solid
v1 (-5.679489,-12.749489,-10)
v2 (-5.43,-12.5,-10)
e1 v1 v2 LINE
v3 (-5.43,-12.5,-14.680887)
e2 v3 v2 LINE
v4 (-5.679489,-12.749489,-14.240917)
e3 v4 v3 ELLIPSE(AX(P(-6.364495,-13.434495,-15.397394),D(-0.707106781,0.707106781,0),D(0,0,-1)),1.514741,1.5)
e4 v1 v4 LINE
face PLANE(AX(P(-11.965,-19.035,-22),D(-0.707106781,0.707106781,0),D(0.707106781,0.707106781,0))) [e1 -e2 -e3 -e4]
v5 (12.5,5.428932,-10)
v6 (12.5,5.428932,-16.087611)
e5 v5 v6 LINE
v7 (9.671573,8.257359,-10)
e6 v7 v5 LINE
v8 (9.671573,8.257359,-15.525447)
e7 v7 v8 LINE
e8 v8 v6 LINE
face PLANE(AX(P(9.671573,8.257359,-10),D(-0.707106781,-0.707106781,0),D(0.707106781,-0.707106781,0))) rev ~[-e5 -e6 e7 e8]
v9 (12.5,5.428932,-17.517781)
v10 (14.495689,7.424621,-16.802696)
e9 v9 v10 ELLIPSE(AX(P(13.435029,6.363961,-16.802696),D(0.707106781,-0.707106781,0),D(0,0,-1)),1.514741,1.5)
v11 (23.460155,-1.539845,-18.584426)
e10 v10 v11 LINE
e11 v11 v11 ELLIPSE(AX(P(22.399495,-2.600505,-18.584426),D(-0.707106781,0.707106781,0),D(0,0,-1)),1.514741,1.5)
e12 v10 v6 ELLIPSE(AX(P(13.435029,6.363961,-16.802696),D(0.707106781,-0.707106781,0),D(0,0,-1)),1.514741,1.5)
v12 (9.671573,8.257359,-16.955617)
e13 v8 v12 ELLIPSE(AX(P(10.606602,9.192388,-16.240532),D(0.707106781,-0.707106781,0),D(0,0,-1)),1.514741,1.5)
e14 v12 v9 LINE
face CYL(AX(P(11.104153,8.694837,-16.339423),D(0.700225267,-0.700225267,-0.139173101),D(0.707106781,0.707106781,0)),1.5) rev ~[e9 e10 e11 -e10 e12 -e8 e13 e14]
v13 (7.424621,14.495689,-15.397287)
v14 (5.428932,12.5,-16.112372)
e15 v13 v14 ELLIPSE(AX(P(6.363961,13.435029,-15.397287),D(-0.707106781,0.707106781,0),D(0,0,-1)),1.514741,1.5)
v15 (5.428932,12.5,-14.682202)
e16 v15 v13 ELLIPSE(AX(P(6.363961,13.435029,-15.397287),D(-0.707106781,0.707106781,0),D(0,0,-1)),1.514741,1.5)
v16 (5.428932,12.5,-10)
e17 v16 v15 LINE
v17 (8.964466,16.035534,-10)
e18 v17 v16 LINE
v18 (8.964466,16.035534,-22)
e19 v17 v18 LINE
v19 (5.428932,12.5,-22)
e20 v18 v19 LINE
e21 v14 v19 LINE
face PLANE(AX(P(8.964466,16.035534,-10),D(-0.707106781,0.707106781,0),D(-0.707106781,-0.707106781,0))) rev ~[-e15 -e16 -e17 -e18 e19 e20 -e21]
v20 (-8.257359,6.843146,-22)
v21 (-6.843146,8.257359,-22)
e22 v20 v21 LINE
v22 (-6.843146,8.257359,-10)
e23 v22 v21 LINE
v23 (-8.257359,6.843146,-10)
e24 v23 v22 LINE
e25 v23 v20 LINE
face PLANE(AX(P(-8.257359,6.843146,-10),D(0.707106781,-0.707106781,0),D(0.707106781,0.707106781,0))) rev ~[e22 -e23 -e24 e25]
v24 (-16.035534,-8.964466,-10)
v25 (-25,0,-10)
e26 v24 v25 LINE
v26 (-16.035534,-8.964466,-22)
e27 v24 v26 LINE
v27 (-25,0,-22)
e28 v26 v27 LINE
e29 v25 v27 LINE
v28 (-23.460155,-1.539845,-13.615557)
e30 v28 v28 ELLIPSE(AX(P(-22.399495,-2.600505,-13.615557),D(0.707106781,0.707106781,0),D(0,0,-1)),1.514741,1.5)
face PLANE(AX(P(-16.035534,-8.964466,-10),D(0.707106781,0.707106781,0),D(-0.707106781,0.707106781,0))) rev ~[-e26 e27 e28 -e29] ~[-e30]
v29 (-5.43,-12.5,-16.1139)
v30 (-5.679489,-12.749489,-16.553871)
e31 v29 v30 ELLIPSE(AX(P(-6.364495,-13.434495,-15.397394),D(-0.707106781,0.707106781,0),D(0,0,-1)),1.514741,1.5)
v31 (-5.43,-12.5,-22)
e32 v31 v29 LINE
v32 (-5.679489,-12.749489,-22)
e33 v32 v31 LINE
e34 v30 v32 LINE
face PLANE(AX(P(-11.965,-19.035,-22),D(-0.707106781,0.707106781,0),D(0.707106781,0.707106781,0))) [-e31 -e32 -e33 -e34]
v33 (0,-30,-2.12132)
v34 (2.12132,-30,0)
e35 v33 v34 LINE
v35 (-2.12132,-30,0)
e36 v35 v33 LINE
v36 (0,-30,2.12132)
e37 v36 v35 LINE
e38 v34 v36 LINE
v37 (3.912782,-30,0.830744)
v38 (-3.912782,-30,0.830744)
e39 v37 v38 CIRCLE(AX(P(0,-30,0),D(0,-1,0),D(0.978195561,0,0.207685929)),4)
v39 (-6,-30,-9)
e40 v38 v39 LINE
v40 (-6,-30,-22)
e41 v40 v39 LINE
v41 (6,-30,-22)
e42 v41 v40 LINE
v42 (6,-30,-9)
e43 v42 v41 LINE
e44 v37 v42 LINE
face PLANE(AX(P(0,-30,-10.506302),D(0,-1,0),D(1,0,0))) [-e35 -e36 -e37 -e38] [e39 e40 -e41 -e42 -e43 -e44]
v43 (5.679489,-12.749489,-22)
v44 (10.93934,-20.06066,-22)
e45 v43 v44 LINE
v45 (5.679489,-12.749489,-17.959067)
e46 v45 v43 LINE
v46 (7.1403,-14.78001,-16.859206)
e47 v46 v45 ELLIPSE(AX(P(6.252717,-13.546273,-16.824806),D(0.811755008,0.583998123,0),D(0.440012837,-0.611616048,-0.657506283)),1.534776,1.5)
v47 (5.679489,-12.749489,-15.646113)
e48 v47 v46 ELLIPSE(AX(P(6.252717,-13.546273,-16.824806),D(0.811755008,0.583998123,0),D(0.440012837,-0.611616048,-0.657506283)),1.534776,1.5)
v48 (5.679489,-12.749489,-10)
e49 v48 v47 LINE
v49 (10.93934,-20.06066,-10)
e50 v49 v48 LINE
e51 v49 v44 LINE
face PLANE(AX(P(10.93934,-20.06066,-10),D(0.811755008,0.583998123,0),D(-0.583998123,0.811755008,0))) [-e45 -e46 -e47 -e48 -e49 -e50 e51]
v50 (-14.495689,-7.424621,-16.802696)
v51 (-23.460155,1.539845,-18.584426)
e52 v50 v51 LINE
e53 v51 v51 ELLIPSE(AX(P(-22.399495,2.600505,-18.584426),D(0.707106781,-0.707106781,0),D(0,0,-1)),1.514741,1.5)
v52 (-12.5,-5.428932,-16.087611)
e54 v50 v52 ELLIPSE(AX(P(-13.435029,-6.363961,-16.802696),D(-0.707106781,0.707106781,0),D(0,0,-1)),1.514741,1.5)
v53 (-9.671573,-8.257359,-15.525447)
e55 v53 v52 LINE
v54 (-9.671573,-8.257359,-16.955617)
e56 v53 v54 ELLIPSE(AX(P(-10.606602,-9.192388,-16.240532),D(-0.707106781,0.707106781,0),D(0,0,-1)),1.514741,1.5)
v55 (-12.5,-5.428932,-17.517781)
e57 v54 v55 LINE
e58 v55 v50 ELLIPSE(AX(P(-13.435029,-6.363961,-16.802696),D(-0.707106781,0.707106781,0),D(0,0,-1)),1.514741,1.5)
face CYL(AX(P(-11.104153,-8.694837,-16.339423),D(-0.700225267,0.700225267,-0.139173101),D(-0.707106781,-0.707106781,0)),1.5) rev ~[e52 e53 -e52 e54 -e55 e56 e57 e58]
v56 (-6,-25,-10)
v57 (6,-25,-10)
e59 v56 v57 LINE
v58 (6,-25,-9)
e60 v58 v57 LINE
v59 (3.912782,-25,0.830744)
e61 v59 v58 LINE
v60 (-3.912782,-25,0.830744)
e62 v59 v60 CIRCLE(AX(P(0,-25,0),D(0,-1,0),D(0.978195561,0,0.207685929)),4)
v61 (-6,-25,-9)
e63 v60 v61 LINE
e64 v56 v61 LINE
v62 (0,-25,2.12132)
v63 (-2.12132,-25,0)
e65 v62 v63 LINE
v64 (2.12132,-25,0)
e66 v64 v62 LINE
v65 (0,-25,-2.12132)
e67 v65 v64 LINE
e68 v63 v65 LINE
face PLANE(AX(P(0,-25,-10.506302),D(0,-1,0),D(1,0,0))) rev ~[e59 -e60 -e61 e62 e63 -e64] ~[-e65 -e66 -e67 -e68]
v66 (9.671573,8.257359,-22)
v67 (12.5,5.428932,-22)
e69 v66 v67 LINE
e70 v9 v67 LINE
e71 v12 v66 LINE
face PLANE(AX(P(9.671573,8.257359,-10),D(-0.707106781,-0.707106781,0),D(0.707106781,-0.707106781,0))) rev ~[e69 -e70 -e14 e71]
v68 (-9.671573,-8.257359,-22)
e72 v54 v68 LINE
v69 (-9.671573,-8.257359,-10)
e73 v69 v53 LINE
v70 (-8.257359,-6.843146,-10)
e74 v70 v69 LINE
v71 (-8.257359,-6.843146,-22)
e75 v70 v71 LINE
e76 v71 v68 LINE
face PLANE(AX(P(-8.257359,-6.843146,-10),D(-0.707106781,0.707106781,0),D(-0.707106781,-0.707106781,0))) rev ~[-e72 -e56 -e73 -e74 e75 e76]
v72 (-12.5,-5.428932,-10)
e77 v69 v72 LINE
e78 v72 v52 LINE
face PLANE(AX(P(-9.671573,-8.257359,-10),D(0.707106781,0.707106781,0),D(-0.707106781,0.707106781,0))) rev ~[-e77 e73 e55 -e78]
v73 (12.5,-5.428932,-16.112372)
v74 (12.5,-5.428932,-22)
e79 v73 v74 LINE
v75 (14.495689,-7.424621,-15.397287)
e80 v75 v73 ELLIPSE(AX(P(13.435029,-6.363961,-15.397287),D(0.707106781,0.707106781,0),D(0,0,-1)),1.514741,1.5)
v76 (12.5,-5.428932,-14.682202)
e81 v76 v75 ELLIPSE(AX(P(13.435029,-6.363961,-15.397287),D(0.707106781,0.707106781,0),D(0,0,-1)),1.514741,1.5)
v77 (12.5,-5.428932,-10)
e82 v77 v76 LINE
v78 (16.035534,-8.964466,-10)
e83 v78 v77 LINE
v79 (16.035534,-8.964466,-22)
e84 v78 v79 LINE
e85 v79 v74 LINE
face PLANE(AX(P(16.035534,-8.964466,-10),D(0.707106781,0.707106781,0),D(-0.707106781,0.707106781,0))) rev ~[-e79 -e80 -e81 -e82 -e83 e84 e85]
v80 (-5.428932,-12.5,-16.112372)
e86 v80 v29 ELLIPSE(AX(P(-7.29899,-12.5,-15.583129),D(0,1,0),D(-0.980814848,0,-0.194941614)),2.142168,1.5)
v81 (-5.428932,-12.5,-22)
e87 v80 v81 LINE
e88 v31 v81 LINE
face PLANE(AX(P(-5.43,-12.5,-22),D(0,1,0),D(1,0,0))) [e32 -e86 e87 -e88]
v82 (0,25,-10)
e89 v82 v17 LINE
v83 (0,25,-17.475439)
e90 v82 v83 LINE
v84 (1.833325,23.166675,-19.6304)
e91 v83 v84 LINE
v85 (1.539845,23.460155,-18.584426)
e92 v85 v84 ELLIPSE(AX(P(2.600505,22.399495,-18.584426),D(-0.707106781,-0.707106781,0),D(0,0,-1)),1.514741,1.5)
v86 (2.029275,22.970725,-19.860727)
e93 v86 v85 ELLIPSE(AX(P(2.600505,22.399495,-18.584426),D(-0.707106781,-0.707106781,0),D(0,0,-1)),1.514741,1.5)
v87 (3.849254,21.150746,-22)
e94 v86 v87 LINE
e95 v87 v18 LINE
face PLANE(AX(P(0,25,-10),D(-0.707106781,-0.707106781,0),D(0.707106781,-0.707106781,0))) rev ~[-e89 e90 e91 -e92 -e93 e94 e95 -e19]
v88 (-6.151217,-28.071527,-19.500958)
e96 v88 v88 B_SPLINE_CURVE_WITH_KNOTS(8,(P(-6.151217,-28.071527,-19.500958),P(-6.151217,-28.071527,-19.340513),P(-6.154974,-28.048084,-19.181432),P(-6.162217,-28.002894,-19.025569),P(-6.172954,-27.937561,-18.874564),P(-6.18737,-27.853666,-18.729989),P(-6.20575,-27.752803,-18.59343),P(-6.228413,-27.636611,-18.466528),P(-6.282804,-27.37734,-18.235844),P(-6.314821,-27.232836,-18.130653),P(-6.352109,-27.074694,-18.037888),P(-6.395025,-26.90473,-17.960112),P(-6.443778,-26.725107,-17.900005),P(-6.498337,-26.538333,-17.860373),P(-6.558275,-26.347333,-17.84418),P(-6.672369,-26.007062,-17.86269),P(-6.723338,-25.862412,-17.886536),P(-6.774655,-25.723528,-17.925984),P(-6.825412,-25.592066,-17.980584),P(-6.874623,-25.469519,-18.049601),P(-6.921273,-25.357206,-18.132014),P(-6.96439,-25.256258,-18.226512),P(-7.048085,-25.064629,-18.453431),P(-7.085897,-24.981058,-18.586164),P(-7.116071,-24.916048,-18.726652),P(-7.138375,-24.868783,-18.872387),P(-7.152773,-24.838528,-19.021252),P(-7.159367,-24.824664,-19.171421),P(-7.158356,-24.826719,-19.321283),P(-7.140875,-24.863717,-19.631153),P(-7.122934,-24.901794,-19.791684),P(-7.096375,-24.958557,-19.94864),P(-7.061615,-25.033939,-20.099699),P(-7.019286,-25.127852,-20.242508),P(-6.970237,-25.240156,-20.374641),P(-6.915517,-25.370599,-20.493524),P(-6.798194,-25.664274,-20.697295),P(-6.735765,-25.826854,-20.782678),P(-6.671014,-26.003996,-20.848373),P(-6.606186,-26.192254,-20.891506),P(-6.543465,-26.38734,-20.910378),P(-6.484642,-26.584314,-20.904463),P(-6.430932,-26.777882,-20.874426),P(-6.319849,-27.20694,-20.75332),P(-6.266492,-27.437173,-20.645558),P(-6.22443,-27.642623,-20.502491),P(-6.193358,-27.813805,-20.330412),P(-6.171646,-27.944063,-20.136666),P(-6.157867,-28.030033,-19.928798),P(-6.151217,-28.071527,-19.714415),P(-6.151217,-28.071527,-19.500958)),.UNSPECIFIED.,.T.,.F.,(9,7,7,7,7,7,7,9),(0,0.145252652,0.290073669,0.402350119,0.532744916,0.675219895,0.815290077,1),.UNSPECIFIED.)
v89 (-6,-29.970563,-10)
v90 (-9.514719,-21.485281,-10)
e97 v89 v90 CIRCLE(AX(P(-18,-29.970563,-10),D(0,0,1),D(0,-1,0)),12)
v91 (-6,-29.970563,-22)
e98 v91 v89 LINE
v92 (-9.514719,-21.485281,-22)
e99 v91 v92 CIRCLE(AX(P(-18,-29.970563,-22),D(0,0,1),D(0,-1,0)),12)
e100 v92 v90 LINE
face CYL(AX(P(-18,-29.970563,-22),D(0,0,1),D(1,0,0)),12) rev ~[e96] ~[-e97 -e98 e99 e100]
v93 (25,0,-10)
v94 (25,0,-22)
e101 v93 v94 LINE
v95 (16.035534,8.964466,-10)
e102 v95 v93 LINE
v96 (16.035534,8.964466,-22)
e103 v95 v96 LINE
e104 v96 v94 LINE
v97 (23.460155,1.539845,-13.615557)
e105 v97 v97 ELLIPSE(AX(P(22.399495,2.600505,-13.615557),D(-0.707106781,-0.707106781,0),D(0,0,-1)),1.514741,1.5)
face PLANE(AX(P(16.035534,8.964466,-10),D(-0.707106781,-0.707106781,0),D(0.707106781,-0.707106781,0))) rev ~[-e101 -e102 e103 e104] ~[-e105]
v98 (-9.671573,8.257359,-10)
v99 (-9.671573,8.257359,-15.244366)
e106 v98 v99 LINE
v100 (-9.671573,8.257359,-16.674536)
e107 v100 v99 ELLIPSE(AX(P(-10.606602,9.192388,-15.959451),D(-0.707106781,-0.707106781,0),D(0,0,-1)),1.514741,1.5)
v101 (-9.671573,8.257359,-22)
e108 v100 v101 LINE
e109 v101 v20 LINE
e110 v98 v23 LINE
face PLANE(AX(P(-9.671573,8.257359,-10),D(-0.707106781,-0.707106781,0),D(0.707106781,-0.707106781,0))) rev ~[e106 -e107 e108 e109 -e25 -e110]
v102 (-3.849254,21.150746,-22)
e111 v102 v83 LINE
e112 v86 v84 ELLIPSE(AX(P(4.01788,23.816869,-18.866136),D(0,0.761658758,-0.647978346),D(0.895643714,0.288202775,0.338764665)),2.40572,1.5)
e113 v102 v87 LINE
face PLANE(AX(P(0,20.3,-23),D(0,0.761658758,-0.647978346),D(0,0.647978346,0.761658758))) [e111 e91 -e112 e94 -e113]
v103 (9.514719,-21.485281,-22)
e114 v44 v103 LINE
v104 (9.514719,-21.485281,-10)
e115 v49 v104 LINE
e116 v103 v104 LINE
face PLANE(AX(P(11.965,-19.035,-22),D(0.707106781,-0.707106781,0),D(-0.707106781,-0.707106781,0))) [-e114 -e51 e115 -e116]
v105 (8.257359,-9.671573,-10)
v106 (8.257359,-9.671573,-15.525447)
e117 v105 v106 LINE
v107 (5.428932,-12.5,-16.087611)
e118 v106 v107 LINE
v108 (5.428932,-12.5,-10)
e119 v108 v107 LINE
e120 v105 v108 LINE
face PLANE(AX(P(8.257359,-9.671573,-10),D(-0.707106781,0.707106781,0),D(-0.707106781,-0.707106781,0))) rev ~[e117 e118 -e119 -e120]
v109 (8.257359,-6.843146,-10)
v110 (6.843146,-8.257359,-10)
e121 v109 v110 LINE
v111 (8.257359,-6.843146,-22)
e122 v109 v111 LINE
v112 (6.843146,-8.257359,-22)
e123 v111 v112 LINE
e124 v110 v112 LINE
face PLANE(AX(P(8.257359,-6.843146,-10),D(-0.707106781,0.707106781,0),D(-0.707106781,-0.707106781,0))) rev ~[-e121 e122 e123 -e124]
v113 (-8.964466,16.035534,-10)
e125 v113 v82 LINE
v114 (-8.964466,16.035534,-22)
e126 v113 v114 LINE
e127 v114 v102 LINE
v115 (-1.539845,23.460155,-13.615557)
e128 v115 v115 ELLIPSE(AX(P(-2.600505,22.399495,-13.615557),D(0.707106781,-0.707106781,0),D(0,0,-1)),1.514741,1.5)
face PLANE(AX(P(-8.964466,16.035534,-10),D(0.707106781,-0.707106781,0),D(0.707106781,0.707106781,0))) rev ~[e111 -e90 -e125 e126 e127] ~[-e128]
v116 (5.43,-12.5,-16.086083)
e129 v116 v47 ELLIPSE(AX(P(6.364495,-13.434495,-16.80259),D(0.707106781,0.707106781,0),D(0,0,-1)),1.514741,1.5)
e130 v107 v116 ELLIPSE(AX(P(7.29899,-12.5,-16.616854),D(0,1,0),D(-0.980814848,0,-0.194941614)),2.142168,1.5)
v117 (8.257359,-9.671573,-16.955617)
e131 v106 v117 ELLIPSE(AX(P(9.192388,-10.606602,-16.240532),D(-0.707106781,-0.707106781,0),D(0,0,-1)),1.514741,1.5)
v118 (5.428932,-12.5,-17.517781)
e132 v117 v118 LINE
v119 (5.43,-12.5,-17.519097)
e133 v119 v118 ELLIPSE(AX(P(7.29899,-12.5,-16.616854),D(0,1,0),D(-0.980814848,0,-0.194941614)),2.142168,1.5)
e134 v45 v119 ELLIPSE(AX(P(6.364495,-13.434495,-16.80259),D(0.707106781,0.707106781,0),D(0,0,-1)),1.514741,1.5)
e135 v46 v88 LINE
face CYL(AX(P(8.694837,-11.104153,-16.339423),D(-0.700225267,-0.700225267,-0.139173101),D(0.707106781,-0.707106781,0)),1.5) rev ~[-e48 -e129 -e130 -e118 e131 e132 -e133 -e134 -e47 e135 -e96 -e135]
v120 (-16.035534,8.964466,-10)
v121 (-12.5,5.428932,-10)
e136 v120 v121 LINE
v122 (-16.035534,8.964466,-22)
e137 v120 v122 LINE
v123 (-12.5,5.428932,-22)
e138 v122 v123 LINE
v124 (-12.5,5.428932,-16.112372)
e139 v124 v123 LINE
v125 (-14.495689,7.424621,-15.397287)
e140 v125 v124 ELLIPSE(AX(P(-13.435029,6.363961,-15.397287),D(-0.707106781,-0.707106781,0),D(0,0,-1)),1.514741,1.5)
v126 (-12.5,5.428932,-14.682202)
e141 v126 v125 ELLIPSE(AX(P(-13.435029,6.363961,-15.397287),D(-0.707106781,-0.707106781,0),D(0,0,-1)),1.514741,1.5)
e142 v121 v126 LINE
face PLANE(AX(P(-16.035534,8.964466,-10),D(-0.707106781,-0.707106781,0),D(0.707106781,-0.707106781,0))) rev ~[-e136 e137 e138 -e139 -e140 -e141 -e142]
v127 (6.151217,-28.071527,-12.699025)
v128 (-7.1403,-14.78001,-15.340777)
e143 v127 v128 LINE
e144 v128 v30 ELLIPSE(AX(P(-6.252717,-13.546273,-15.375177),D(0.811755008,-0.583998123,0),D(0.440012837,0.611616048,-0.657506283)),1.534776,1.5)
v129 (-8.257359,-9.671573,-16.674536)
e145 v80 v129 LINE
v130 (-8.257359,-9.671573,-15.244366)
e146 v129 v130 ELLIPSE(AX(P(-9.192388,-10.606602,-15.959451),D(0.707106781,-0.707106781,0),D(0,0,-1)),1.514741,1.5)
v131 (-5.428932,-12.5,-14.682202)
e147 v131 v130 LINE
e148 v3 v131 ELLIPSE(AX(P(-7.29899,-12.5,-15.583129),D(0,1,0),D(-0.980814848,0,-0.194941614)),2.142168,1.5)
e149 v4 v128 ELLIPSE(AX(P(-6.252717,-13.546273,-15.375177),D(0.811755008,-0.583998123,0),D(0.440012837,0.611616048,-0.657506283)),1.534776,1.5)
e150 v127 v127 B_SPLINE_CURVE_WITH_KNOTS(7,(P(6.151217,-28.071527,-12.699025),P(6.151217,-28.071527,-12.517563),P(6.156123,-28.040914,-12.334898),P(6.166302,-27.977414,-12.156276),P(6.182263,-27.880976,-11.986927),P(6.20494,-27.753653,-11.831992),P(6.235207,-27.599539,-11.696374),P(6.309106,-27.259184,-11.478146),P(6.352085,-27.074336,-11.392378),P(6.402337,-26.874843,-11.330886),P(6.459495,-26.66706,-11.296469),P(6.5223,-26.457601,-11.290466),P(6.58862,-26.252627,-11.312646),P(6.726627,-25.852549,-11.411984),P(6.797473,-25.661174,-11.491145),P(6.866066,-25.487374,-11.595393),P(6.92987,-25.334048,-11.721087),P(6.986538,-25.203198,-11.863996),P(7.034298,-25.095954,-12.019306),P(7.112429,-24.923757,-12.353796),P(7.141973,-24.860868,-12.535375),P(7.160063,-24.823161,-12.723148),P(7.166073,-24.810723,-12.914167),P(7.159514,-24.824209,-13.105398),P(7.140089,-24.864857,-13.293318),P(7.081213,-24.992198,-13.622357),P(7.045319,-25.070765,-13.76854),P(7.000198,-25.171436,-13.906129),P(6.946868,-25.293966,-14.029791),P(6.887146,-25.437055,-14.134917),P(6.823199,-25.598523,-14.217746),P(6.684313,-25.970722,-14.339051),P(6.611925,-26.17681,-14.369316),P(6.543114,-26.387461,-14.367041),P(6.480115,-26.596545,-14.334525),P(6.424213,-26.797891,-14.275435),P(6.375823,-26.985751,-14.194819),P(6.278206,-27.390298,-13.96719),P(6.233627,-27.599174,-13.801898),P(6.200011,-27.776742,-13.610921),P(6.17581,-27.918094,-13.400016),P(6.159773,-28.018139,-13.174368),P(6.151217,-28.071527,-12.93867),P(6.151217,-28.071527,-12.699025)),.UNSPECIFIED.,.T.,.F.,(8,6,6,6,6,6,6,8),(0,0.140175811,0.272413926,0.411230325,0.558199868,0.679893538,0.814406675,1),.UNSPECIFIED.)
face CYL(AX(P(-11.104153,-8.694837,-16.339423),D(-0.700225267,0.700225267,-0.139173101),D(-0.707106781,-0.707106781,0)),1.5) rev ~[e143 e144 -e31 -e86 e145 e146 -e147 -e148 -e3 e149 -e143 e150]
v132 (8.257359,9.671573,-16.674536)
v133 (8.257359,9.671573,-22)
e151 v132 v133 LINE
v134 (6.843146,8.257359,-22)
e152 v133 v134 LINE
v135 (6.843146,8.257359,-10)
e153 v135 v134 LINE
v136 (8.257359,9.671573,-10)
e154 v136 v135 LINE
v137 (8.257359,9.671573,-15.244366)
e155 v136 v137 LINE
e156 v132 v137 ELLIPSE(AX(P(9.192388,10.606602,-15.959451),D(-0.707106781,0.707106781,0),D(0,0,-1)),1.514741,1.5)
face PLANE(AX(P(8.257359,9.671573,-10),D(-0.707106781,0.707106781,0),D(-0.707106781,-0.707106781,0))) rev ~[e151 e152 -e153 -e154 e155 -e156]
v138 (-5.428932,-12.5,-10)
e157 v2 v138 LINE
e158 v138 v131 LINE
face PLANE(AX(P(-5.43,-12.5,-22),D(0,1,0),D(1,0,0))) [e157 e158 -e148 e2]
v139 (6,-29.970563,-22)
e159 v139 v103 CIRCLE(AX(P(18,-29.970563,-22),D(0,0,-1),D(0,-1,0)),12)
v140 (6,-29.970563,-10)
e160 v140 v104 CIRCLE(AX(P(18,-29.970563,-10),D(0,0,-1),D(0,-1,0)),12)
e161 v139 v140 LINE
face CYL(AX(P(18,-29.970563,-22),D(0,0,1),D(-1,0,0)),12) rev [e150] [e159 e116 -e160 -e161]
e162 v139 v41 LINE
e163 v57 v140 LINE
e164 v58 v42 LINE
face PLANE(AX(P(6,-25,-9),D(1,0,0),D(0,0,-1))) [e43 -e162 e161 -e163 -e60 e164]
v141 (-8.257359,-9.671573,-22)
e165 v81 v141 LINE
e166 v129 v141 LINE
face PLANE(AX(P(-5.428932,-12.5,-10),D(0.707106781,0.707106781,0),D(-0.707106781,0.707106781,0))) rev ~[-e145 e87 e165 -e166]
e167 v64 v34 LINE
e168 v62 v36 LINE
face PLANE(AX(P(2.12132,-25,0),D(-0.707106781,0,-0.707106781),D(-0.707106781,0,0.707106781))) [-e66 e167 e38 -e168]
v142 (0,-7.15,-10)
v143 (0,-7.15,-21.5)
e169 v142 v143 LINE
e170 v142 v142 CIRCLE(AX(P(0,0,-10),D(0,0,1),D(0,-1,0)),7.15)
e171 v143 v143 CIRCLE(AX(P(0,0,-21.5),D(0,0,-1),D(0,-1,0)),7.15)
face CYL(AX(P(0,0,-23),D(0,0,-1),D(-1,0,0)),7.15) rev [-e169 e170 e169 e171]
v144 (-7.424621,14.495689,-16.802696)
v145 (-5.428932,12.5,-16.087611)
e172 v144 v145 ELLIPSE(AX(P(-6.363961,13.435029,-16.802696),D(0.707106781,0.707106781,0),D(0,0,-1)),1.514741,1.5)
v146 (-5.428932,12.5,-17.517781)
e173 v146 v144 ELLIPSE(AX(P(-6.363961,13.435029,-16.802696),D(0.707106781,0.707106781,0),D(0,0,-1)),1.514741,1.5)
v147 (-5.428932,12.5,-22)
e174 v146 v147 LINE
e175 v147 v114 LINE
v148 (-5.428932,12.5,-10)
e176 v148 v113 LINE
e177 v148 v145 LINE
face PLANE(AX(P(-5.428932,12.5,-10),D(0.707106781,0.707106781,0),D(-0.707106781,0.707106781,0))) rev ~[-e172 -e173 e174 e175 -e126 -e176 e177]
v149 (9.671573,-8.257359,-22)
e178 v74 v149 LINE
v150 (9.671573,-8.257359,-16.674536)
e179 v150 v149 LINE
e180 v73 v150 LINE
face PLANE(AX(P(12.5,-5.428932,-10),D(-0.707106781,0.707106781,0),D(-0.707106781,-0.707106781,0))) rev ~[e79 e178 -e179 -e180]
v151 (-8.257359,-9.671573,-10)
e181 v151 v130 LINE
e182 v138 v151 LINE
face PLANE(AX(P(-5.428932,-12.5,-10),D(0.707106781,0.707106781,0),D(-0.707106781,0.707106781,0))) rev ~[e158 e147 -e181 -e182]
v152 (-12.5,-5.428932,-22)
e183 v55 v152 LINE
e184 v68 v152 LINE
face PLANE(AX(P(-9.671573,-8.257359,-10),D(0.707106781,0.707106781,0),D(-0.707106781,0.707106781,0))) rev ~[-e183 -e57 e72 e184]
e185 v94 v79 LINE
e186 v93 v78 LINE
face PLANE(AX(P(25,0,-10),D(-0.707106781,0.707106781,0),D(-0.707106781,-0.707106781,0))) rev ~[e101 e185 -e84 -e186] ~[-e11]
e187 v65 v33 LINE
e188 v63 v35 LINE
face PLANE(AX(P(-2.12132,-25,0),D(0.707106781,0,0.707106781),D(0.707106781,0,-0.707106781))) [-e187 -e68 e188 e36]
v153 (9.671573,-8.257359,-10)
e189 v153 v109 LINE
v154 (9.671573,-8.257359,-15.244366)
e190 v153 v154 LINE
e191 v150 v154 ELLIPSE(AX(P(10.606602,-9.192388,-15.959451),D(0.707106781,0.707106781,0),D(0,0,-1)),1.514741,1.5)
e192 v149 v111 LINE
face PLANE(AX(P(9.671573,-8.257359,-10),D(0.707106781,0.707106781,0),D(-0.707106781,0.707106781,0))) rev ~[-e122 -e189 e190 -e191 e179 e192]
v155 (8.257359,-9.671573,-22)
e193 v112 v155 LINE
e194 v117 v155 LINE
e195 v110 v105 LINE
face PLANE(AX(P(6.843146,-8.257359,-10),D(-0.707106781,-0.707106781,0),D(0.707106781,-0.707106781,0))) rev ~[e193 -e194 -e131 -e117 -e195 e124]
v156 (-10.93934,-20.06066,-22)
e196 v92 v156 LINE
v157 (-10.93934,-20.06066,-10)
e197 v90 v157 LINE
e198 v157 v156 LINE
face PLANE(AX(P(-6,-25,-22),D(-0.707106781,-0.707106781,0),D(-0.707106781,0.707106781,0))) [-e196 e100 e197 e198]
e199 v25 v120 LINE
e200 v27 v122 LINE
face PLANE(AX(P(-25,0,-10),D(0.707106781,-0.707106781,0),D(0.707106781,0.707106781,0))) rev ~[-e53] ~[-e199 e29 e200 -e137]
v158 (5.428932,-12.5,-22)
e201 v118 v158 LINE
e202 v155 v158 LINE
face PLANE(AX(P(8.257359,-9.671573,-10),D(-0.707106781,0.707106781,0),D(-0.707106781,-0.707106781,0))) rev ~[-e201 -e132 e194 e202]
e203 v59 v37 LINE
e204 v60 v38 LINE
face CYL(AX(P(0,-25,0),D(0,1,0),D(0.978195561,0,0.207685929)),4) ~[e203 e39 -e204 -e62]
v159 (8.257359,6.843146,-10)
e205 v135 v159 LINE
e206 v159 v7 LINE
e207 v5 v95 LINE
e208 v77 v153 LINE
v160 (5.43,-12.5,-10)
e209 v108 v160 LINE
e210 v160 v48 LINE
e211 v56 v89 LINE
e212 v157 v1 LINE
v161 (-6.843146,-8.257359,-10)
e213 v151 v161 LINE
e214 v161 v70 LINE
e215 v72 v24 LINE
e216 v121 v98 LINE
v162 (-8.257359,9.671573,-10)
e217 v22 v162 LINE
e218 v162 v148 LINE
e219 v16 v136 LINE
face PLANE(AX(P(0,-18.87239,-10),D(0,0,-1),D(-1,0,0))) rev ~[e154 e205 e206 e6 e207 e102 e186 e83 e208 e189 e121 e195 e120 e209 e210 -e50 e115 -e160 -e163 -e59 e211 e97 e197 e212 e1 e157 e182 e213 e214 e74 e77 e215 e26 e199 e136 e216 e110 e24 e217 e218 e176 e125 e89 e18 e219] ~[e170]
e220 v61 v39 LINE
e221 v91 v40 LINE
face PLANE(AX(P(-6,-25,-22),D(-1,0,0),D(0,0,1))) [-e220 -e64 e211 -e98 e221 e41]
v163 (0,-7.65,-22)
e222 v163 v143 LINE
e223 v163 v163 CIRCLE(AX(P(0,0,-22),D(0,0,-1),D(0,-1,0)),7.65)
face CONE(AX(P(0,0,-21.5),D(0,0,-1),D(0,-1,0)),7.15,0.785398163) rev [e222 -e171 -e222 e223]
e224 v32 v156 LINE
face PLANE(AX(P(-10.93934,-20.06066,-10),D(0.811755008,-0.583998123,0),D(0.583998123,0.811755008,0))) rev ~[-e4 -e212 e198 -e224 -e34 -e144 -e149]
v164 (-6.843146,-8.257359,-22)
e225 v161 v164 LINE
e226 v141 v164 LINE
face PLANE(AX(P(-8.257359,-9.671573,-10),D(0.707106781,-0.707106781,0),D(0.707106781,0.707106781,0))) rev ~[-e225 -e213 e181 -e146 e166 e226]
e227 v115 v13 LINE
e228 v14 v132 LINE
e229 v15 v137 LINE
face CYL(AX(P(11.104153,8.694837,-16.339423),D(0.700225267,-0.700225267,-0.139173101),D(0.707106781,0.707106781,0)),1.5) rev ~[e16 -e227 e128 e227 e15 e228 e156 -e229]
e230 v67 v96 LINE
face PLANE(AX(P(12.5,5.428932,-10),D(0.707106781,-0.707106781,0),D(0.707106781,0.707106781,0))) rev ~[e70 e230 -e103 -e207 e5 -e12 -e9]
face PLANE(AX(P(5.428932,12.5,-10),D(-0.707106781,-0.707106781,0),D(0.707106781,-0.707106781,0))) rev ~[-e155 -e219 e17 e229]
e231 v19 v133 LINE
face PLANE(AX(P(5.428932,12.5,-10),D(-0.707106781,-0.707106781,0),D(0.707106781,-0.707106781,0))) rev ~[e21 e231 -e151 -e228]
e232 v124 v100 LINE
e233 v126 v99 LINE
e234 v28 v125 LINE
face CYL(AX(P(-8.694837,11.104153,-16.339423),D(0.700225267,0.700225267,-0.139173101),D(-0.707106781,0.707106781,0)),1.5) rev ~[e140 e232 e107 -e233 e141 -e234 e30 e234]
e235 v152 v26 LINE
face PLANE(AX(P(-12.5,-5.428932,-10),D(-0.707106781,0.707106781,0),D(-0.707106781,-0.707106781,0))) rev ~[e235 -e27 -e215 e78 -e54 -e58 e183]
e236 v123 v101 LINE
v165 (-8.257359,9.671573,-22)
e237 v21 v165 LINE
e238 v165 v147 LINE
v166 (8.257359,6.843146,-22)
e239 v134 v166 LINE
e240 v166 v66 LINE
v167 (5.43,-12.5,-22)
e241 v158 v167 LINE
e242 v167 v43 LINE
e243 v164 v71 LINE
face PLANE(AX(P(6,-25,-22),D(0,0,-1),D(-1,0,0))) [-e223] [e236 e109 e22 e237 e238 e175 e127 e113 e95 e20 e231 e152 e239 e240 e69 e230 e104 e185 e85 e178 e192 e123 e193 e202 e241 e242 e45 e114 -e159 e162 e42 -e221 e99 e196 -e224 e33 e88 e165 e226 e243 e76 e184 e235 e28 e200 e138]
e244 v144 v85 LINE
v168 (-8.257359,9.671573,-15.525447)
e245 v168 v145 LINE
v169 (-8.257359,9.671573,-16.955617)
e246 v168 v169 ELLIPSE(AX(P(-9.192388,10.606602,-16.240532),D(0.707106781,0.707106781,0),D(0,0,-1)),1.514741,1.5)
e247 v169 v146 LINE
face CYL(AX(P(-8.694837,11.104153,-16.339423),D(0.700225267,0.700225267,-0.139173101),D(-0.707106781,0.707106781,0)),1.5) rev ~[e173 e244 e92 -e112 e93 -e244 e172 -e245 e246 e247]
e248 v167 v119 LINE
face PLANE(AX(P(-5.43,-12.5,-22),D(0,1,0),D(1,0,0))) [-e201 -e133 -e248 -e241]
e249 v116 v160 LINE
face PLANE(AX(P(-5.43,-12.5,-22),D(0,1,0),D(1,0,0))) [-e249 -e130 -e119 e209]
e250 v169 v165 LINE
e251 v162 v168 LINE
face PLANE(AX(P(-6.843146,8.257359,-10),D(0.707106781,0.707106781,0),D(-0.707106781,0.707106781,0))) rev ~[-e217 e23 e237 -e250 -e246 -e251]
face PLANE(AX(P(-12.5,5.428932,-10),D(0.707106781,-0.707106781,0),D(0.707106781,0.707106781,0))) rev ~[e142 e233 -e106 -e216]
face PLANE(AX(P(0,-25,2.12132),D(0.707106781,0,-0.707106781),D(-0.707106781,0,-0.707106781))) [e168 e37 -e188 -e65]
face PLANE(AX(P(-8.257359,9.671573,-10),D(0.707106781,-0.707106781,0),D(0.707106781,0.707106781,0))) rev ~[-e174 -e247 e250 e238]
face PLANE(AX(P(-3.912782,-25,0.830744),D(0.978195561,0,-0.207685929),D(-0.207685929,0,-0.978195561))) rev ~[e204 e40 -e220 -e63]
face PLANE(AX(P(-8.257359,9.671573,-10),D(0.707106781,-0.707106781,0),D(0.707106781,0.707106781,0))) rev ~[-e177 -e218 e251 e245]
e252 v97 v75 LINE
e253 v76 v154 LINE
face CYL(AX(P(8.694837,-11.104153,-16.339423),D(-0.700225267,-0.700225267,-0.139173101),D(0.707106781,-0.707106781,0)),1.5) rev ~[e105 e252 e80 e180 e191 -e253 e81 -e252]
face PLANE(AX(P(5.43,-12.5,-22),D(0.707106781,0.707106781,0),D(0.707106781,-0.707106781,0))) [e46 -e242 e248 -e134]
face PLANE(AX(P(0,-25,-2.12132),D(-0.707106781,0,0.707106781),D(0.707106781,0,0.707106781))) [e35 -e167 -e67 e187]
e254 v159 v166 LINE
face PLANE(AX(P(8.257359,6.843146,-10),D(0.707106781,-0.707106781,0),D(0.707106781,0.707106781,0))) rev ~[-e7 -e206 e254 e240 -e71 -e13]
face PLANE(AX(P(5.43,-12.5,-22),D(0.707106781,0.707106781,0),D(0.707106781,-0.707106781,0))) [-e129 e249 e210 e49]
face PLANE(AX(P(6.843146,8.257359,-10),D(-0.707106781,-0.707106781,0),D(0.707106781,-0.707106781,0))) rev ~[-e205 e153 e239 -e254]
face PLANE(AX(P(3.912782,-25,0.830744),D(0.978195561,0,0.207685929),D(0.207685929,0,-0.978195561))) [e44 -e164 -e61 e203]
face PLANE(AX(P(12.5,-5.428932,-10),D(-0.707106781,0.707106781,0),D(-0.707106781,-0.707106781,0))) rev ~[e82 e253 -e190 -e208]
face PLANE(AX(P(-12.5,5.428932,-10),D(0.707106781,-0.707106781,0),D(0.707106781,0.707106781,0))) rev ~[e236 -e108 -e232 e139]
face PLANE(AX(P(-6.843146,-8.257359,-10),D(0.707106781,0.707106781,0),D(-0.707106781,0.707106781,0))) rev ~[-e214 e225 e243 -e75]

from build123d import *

# Parameters (mm, degrees)
PAD081_DEPTH          = 12
SKETCH230_R           = 7.15
POCKET159_DEPTH       = 20
POLARPATTERN_COUNT    = 4
PAD106_DEPTH          = 12
PAD105_DEPTH          = 5
SKETCH266_R           = 1.5
POCKET160_DEPTH       = 30
FILLET005_R           = 12
POLARPATTERN002_COUNT = 4
POCKET162_DEPTH       = 5
POCKET178_DEPTH       = 13
CHAMFER044_SIZE       = 0.5


with BuildPart() as part:
    # Sketch232 → Pad081 (new body)
    with BuildSketch(Plane.XY.offset(-10)):
        Polygon((0, 0), (0, 25), (8.9644660941, 16.0355339059), (5.4289321881, 12.5), (8.2573593129, 9.6715728753), (6.8431457505, 8.2573593129), (8.2573593129, 6.8431457505), (9.6715728753, 8.2573593129), (12.5, 5.4289321881), (16.0355339059, 8.9644660941), (25, 0), align=None)
    pad081 = extrude(amount=-PAD081_DEPTH)

    # Sketch230 → Pocket159 (cut)
    with BuildSketch(Plane.XY.offset(-23)):
        Circle(SKETCH230_R)
    pocket159 = extrude(amount=POCKET159_DEPTH, mode=Mode.SUBTRACT)

    # PolarPattern: Pad081, Pocket159 ×4 about axis
    polarpattern_axis = Axis((0, 0, -10), (0, 0, 1))
    for i in range(1, POLARPATTERN_COUNT):
        add(pad081.rotate(polarpattern_axis, i * 360 / POLARPATTERN_COUNT))
        add(pocket159.rotate(polarpattern_axis, i * 360 / POLARPATTERN_COUNT), mode=Mode.SUBTRACT)

    # Sketch297 → Pad106 (join)
    with BuildSketch(Plane.XY.offset(-22)):
        Polygon((-11.965, -19.035), (-5.43, -12.5), (5.43, -12.5), (11.965, -19.035), (6, -25), (-6, -25), align=None)
    extrude(amount=PAD106_DEPTH)

    # Sketch296 → Pad105 (join)
    with BuildSketch(Plane.XZ.offset(25)):
        with BuildLine():
            Line((-3.9127822424, 0.8307437172), (-6, -9))
            Line((-6, -22), (-6, -9))
            Line((6, -22), (-6, -22))
            Line((6, -9), (6, -22))
            Line((3.9127822424, 0.8307437172), (6, -9))
            ThreePointArc((3.9127822424, 0.8307437172), (0, 4), (-3.9127822424, 0.8307437172))
        make_face()
        Polygon((-2.1213203436, 0), (0, -2.1213203436), (2.1213203436, 0), (0, 2.1213203436), align=None, mode=Mode.SUBTRACT)
    extrude(amount=PAD105_DEPTH)

    # Sketch266 (on DatumPlane) → Pocket160 (cut, symmetric)
    with BuildSketch(Plane(origin=(2.8284271247, -2.8284271247, 0), x_dir=(0.7071067812, 0.7071067812, 0), z_dir=(0.7002252666, -0.7002252666, -0.139173101))):
        with Locations((14, -16.5)):
            Circle(SKETCH266_R)
    pocket160 = extrude(amount=POCKET160_DEPTH, both=True, mode=Mode.SUBTRACT)

    # Fillet005
    fillet005_edges = [part.edges().sort_by_distance(p)[0] for p in [
        (-6, -25, -16),
        (6, -25, -16),
    ]]
    fillet(fillet005_edges, radius=FILLET005_R)

    # PolarPattern002: Pocket160 ×4 about axis
    polarpattern002_axis = Axis((0, 0, 0), (0, 0, 1))
    for i in range(1, POLARPATTERN002_COUNT):
        add(pocket160.rotate(polarpattern002_axis, i * 360 / POLARPATTERN002_COUNT), mode=Mode.SUBTRACT)

    # Sketch272 → Pocket162 (cut, symmetric)
    with BuildSketch(Plane.YZ):
        Polygon((20.3, -23), (26, -16.3), (26, -23), align=None)
    extrude(amount=POCKET162_DEPTH, both=True, mode=Mode.SUBTRACT)

    # Sketch303 → Pocket178 (cut)
    with BuildSketch(Plane.XY.offset(-10)):
        Polygon((-5.5, -12.5), (-12, -19), (-10.9393398282, -20.0606601718), align=None)
        Polygon((5.5, -12.5), (12, -19), (10.9393398282, -20.0606601718), align=None)
    extrude(amount=-POCKET178_DEPTH, mode=Mode.SUBTRACT)

    # Chamfer044
    chamfer044_edges = [part.edges().sort_by_distance(p)[0] for p in [
        (-5.055813, 5.055813, -22),
    ]]
    chamfer(chamfer044_edges, length=CHAMFER044_SIZE)


solid = part.part
